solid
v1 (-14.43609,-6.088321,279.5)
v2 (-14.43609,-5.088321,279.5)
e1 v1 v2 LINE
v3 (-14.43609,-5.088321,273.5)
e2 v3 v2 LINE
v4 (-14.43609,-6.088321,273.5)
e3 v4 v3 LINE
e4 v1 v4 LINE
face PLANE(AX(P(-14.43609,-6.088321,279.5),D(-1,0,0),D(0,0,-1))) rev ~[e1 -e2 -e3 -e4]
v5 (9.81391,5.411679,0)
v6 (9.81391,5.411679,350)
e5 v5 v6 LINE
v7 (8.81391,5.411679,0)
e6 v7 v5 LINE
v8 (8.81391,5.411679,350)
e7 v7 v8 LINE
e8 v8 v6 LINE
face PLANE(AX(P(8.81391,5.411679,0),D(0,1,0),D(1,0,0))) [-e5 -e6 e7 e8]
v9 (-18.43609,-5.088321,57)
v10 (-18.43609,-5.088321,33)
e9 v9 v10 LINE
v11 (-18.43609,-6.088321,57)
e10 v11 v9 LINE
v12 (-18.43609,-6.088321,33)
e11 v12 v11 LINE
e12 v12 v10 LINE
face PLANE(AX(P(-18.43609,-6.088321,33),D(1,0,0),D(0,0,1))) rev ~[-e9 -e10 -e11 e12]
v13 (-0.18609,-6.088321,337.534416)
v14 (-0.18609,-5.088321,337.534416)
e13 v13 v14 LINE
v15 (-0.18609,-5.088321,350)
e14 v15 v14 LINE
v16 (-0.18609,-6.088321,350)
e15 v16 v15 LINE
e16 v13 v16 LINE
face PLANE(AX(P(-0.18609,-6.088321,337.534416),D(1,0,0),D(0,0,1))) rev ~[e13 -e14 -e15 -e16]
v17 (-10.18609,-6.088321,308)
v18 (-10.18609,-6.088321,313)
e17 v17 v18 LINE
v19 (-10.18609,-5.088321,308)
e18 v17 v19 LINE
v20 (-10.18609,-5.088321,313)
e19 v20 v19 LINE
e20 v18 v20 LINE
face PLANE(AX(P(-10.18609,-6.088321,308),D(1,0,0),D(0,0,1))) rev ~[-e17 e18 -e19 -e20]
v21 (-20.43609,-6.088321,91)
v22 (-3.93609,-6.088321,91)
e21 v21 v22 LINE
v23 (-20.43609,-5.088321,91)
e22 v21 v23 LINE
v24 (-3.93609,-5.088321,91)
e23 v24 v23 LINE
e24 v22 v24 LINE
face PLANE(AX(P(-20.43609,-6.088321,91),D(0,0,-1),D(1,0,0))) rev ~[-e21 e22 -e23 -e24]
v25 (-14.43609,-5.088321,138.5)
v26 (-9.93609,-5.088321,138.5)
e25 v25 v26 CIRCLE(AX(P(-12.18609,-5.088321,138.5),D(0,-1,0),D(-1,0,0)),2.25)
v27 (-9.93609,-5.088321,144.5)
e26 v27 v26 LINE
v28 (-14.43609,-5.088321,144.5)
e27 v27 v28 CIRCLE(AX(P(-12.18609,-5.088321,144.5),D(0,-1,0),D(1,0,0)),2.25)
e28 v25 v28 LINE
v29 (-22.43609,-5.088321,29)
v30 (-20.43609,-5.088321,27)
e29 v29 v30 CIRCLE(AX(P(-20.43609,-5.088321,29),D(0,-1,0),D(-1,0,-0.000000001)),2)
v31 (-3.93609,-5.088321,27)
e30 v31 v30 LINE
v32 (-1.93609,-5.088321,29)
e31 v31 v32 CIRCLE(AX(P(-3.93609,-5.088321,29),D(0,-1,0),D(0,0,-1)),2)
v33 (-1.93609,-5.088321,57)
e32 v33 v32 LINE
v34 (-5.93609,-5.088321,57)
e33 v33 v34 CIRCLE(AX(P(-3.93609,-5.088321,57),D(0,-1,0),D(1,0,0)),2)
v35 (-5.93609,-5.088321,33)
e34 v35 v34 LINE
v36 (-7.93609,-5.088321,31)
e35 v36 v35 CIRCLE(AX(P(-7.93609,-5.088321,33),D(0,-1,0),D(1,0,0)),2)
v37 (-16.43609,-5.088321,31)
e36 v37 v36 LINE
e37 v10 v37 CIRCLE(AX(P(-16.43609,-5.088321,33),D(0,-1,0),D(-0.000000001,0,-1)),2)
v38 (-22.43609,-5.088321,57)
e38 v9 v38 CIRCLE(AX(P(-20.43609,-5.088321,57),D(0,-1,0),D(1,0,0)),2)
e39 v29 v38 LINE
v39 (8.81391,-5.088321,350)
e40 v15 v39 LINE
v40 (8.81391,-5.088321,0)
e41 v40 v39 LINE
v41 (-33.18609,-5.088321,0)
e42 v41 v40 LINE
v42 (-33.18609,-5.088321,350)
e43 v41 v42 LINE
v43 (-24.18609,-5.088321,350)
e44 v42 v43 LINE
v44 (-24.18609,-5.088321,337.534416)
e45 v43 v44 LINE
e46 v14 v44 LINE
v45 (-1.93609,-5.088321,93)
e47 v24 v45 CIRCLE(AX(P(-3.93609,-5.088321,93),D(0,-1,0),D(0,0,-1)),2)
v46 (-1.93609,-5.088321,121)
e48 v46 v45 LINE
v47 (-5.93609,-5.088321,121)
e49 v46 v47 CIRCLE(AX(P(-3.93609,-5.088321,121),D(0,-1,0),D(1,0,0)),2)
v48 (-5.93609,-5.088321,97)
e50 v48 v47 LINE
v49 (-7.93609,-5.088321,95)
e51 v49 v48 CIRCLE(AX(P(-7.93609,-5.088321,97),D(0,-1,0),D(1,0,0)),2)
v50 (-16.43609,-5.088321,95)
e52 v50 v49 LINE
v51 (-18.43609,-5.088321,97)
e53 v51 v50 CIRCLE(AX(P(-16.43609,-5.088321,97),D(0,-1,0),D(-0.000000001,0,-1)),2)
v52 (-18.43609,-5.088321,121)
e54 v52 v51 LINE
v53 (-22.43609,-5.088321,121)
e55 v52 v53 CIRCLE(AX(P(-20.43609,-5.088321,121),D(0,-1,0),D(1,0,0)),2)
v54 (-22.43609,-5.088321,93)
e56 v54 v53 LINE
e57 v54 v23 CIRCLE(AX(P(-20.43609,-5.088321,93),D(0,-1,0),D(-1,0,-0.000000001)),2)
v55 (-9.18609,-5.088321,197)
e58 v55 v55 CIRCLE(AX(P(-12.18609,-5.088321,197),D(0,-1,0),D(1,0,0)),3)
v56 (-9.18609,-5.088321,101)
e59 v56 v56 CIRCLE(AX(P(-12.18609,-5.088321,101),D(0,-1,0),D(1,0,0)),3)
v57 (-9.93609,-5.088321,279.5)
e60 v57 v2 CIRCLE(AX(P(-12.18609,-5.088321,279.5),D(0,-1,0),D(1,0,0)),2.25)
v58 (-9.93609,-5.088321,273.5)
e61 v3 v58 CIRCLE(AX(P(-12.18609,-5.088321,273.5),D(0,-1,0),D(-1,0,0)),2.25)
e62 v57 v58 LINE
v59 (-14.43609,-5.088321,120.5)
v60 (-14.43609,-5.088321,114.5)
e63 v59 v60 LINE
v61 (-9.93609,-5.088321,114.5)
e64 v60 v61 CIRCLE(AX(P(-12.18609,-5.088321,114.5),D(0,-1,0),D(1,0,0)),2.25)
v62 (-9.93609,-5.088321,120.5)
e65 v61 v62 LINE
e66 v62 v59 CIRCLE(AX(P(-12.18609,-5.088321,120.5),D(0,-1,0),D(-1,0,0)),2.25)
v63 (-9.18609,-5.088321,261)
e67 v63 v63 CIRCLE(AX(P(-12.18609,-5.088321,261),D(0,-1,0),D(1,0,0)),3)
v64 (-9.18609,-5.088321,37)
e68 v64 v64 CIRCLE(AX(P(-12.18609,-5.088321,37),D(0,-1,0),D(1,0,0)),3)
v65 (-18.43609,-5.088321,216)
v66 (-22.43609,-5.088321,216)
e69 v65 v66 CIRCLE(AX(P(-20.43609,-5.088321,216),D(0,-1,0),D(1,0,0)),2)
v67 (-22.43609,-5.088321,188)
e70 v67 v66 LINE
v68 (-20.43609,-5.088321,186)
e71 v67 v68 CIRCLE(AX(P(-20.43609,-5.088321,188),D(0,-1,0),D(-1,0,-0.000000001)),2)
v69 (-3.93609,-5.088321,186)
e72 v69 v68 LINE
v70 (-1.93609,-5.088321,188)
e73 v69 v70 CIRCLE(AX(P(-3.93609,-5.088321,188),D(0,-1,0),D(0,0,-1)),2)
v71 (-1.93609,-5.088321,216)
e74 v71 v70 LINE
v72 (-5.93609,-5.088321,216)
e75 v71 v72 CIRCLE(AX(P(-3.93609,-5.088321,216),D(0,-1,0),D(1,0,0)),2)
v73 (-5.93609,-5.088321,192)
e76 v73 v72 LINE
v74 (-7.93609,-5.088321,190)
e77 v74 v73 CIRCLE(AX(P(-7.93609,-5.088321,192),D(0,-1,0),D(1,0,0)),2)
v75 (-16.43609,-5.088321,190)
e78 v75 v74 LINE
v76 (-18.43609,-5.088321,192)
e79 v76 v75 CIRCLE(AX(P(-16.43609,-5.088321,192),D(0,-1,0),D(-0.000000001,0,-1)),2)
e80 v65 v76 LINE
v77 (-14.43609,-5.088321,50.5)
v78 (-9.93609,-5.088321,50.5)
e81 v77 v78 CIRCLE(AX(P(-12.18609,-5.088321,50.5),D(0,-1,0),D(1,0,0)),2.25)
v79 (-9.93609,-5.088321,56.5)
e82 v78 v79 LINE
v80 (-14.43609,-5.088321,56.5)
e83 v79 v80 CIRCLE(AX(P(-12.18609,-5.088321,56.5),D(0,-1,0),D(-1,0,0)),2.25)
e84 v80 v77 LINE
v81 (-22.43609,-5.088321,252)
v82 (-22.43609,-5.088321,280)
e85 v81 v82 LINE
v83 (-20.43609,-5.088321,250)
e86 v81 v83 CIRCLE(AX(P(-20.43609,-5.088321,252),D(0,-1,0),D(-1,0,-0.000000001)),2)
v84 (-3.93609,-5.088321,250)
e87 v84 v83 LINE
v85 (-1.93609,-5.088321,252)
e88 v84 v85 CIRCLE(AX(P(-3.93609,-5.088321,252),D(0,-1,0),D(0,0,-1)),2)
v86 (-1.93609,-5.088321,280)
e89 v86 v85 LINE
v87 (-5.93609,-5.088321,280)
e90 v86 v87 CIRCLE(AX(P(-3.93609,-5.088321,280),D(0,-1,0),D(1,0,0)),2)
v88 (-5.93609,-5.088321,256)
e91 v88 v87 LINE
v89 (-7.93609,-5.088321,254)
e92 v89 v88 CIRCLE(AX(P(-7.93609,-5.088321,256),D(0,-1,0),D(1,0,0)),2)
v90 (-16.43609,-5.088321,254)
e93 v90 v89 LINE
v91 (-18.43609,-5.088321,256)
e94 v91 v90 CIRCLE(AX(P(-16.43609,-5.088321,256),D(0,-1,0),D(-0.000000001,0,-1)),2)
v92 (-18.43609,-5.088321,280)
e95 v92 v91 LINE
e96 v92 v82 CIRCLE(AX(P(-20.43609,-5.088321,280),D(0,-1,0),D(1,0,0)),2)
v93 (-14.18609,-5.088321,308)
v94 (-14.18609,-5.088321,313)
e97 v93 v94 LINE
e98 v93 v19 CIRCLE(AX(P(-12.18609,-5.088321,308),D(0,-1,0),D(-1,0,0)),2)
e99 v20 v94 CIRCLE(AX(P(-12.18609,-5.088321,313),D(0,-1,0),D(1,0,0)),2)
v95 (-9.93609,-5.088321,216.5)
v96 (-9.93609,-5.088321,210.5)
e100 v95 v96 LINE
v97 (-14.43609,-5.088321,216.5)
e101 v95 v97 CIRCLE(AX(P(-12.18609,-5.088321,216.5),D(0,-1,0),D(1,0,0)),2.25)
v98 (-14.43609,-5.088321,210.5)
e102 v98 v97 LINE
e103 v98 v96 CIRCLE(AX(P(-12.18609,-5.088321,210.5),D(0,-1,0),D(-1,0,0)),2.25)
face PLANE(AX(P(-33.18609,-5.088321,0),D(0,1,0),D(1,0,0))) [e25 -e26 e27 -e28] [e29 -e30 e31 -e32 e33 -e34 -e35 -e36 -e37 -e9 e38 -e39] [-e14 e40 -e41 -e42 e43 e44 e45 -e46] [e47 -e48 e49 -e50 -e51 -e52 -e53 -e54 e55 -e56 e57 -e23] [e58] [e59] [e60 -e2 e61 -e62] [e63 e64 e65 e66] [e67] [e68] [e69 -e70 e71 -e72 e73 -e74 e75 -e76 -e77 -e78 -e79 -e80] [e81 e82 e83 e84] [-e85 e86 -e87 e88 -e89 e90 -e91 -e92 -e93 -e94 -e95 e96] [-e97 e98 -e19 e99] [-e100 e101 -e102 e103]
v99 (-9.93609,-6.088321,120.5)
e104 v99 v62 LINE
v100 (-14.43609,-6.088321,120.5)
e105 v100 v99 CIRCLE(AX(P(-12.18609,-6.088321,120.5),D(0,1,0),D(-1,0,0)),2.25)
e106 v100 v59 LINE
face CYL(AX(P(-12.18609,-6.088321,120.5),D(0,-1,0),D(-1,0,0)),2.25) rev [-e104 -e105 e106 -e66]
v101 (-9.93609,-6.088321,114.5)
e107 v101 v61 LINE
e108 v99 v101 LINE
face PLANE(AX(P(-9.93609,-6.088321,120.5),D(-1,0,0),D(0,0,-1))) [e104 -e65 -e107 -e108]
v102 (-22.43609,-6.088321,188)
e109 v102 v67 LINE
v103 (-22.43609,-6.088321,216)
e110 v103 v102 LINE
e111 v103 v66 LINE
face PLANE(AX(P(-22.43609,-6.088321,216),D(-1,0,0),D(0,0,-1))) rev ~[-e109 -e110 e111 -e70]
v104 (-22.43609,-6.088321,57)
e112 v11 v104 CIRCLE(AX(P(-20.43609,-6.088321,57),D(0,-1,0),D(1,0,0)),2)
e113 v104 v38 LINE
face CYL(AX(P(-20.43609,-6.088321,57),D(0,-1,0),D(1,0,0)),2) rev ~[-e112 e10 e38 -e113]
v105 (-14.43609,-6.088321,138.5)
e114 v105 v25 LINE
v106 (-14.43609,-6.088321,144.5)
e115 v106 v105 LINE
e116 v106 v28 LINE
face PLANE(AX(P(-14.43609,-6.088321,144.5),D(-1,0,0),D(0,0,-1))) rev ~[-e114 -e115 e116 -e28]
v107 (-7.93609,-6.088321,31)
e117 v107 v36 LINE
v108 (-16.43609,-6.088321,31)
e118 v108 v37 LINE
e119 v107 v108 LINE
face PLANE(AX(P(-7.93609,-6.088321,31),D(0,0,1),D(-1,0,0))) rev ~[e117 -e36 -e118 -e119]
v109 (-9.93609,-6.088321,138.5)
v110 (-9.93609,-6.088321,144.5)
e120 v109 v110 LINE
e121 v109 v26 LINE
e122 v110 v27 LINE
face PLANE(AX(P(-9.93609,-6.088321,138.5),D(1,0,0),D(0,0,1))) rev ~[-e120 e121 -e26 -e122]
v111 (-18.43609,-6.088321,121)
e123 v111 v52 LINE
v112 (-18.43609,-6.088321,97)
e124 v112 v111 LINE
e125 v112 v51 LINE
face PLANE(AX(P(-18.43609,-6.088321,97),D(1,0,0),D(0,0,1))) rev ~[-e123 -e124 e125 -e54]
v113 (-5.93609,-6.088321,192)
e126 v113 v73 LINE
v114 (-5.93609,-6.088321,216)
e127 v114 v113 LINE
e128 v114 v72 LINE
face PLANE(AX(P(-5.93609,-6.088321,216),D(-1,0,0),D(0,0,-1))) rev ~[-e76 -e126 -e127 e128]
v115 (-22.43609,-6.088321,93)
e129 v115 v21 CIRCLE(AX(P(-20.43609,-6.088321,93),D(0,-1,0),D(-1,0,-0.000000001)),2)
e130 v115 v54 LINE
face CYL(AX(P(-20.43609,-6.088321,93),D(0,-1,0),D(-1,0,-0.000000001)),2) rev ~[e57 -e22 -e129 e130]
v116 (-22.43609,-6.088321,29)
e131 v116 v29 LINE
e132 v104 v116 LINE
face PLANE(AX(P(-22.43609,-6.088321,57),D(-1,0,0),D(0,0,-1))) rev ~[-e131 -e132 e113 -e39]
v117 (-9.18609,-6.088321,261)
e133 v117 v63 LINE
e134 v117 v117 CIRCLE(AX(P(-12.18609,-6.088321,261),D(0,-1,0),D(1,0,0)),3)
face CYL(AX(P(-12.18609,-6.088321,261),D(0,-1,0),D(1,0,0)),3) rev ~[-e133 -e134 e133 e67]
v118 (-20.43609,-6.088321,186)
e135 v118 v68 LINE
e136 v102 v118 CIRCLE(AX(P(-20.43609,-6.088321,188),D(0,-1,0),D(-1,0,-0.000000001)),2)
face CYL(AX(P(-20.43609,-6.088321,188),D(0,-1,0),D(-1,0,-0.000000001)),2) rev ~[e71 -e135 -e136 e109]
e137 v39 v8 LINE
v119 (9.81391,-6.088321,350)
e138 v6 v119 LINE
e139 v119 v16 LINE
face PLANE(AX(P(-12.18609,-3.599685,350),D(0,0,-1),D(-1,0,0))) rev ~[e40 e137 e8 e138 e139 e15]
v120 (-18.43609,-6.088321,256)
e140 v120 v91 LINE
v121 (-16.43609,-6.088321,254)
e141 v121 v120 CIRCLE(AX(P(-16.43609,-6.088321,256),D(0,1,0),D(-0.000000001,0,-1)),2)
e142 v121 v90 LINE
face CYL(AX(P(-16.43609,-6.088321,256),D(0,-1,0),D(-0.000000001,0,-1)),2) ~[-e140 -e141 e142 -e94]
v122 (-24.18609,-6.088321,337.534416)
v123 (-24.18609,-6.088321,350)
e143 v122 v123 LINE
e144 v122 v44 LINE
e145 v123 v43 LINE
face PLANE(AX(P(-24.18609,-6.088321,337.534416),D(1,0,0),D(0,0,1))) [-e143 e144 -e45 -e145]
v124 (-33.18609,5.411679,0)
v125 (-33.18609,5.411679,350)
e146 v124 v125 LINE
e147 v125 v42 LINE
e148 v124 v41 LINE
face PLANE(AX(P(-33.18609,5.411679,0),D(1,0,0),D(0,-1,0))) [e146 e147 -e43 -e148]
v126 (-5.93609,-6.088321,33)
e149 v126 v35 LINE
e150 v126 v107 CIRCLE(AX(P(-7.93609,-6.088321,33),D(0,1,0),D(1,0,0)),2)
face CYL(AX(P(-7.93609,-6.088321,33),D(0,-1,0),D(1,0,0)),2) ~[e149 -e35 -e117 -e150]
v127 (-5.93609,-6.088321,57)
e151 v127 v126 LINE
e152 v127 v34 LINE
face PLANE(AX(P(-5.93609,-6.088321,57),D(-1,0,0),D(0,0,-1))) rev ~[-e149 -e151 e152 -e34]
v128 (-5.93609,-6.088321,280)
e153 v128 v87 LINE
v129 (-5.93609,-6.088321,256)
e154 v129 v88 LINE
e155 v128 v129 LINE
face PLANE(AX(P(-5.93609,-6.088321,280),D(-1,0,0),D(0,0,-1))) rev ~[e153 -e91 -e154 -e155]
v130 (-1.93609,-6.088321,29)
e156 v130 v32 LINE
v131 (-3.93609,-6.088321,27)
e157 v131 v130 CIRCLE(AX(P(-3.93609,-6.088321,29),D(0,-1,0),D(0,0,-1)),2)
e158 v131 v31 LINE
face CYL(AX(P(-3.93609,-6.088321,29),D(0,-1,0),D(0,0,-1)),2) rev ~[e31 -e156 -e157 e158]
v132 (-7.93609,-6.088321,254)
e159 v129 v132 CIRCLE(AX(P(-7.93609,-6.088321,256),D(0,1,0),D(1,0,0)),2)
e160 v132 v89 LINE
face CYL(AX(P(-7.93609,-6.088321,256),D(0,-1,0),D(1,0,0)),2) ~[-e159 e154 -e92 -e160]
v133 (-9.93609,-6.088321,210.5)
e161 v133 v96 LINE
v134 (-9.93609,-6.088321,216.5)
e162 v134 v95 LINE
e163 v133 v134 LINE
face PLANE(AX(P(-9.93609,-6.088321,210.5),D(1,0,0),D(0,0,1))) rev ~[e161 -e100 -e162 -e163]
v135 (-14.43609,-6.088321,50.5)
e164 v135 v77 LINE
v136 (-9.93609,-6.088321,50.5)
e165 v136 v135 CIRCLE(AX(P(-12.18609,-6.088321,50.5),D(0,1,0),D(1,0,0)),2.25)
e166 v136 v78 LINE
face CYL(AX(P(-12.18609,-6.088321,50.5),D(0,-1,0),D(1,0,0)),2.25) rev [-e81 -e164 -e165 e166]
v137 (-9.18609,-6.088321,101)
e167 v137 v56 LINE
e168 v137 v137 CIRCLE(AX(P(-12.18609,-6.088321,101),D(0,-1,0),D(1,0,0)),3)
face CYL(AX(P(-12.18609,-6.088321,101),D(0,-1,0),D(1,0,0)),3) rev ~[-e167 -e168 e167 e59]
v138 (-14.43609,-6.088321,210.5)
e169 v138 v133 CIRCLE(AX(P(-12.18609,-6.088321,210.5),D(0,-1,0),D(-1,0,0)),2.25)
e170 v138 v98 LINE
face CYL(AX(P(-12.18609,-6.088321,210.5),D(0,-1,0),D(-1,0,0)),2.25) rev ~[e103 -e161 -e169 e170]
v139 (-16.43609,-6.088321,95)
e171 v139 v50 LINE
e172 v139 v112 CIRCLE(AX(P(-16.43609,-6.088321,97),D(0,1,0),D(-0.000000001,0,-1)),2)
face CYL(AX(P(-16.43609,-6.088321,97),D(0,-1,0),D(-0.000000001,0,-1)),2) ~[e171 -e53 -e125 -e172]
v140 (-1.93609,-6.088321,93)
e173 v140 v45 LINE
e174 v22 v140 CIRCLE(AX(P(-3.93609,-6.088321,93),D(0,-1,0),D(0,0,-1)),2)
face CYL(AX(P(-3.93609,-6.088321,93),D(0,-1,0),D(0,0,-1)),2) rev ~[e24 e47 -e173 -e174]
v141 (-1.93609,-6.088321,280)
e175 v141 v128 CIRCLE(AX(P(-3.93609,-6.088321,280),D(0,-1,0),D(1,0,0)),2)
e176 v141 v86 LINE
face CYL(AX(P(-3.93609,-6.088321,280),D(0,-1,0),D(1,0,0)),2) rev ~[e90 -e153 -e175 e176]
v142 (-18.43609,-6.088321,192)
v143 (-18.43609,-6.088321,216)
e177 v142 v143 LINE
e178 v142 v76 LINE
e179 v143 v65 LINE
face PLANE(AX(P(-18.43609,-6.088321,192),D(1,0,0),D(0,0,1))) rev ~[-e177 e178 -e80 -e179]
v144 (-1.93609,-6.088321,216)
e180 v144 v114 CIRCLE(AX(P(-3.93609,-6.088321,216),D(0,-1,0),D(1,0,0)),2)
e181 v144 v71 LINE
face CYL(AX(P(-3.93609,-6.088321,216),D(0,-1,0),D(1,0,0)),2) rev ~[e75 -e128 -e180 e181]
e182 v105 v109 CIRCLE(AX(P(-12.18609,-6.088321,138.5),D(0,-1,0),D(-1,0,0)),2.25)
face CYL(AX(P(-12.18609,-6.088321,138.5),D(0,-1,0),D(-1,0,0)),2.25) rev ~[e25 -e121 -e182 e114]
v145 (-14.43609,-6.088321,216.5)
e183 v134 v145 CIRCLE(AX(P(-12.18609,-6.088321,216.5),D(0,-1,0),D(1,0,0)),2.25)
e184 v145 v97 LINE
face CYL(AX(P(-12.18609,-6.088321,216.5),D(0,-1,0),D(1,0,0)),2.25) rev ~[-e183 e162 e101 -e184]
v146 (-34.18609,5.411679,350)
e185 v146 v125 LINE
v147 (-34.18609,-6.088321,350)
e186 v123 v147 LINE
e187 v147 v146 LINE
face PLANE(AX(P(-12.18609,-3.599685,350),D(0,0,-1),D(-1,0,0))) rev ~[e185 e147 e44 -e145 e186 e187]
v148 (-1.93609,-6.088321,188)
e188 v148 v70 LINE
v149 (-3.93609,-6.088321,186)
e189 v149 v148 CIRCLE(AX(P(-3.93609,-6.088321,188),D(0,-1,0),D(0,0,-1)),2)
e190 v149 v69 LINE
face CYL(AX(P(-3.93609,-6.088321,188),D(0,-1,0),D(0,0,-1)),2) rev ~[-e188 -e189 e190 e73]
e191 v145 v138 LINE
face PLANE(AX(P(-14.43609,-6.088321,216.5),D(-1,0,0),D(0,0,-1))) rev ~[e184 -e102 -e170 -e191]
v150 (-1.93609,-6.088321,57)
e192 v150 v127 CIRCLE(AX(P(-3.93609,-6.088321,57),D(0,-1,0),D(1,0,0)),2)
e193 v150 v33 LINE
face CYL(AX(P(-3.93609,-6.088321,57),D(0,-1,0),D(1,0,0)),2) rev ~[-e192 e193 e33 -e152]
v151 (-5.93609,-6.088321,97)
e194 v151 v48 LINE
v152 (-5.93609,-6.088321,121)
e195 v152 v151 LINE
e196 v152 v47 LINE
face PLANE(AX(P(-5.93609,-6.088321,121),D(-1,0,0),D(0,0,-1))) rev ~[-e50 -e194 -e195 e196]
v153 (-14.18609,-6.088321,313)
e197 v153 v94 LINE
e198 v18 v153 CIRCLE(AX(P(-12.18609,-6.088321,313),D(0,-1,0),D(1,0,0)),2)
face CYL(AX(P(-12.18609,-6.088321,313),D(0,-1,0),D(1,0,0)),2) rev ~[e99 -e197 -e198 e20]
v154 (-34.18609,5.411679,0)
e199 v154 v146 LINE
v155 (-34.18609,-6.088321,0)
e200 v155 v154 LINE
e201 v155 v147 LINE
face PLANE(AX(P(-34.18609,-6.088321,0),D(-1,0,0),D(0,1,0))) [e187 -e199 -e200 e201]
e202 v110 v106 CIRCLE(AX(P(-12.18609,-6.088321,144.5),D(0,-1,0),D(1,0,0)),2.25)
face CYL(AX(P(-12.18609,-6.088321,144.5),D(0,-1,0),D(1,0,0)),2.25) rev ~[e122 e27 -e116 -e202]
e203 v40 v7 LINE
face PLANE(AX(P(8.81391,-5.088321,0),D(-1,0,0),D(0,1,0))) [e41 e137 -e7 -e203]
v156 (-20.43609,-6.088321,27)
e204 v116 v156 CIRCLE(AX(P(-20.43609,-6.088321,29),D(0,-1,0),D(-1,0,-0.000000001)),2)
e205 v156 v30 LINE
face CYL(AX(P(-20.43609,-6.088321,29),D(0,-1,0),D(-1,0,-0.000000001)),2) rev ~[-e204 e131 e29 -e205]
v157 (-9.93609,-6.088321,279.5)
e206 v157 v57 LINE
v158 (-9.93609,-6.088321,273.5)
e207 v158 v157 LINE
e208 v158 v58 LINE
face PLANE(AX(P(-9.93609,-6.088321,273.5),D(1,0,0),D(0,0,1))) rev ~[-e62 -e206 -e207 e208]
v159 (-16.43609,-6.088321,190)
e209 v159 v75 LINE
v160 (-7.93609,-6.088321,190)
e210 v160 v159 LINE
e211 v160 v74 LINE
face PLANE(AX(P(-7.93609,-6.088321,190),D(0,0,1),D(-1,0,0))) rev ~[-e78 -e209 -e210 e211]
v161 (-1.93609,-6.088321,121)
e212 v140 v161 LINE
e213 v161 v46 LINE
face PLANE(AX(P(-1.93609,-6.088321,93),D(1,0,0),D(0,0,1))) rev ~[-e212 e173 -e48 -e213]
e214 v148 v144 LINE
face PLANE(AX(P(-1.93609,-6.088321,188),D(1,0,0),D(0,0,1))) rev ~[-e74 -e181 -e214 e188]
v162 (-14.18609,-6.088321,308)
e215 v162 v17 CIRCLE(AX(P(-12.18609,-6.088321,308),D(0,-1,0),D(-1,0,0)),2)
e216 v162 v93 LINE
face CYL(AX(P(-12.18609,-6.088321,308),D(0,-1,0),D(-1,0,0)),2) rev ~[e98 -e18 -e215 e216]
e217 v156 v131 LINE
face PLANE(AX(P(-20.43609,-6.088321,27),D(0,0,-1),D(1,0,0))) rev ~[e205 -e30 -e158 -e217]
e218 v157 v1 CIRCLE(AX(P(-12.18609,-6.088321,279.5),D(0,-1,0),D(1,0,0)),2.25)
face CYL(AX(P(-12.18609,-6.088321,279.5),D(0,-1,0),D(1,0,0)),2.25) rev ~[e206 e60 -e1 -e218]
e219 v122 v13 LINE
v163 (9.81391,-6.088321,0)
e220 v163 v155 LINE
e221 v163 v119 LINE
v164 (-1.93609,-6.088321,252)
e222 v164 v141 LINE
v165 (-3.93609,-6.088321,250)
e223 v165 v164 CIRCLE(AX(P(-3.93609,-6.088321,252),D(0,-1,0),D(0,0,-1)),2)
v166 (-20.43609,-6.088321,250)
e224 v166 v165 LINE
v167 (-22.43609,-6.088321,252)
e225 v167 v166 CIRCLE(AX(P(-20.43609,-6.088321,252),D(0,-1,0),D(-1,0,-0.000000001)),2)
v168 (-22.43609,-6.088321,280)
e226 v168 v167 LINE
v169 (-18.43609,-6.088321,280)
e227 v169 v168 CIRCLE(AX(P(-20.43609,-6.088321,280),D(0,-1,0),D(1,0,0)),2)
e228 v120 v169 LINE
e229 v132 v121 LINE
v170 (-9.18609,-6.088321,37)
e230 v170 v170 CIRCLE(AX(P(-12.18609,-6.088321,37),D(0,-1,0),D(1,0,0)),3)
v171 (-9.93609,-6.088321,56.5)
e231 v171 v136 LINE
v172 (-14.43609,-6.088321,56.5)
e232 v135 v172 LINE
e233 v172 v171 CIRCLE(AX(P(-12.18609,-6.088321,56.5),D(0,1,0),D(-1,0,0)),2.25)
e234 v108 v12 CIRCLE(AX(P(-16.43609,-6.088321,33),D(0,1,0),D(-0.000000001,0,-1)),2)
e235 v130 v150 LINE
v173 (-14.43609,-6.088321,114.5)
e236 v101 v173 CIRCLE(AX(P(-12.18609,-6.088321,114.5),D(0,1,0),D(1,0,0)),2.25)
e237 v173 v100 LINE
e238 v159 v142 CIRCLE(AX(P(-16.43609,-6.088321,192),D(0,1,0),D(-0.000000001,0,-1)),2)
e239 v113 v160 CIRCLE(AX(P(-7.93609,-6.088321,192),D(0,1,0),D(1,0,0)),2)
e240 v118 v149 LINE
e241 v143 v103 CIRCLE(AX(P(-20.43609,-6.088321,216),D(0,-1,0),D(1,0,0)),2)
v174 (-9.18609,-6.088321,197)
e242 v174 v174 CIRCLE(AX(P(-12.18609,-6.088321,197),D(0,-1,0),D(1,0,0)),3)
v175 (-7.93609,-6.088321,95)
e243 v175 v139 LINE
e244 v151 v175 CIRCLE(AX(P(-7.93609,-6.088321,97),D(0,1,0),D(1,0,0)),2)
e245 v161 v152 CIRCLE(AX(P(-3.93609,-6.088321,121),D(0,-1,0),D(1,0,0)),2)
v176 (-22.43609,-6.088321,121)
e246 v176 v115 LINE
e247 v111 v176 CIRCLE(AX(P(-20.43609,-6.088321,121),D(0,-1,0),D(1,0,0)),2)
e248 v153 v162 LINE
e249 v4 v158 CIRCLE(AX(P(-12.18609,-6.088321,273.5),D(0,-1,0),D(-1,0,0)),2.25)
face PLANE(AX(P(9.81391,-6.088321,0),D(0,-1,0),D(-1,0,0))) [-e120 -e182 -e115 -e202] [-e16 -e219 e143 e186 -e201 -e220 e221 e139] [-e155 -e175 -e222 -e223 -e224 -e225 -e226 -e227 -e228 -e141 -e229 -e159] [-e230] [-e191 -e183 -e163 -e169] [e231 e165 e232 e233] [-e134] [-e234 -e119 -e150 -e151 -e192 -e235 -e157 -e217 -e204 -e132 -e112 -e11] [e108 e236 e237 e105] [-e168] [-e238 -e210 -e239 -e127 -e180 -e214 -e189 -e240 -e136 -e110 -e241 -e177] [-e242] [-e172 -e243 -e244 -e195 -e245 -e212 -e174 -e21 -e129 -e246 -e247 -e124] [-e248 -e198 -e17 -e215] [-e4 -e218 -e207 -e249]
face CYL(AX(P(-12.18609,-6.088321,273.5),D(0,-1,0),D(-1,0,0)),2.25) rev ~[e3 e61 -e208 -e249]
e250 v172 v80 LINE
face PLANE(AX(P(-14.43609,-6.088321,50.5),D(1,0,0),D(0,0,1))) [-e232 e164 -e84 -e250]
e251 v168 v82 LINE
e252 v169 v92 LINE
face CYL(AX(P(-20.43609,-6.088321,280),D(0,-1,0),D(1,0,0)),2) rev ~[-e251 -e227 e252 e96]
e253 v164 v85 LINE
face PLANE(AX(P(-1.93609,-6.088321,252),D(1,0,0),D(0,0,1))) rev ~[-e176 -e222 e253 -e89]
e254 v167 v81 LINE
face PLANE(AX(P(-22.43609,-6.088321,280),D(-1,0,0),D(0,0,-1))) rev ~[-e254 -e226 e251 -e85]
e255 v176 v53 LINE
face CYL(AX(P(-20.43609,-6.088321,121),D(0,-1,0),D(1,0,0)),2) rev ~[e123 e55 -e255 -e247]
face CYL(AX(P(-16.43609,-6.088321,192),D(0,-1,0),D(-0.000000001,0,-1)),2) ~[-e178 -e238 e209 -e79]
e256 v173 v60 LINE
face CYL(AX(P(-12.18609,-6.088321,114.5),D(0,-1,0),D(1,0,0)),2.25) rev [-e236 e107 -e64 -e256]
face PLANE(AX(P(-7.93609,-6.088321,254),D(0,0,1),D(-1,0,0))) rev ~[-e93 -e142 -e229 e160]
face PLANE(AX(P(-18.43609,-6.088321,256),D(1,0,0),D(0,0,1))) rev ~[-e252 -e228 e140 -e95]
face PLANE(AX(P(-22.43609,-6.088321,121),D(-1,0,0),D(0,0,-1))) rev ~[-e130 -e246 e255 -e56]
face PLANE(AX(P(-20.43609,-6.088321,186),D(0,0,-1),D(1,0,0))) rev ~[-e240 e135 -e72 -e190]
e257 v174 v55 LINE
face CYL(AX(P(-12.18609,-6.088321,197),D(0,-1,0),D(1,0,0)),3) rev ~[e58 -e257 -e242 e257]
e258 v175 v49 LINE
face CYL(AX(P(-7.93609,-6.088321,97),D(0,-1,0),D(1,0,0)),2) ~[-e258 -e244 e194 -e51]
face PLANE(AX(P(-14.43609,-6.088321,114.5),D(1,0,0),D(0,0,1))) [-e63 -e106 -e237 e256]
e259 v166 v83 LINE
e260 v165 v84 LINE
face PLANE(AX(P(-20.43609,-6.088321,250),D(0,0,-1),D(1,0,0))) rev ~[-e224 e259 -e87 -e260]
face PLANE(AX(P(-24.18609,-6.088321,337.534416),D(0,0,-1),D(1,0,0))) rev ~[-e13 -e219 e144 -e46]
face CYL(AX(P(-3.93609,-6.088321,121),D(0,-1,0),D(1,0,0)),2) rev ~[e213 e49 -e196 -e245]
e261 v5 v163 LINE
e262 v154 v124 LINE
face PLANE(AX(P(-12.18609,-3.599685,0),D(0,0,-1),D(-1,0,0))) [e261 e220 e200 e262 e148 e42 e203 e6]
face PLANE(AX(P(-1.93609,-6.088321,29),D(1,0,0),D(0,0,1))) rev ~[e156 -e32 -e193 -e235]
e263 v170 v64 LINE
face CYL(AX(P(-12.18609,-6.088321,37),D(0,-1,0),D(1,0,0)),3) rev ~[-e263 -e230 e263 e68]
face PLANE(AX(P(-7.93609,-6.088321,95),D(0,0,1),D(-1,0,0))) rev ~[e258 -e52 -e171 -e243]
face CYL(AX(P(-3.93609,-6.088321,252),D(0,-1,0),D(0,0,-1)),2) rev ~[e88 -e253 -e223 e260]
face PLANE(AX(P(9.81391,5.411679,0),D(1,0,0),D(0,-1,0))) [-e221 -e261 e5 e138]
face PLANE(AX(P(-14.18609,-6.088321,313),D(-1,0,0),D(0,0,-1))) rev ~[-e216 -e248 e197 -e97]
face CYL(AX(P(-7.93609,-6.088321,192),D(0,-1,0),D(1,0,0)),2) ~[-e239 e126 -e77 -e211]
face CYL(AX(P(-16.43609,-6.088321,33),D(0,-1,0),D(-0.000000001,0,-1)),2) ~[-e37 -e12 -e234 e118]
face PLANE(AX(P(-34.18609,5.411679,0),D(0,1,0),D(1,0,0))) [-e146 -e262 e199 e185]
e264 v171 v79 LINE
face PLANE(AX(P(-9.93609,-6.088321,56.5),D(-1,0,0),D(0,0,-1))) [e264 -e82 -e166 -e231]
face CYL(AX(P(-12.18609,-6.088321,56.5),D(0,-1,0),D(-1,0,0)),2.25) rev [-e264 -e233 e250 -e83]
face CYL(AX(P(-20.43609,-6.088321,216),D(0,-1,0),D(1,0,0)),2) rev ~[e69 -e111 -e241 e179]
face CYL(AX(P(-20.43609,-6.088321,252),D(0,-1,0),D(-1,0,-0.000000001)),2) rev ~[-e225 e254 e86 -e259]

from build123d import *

# Parameters (mm, degrees)
EXTRUDE_1_DEPTH     = 350
SKETCH_2_R          = 3
SKETCH_2_W          = 24
SKETCH_2_H          = 12.465583579
CUT_EXTRUDE_1_DEPTH = 350


with BuildPart() as part:
    # 草图1 → 凸台-拉伸1 (new body)
    with BuildSketch(Plane.XY):
        Polygon((-34.186090226, 5.411678692), (-33.186090226, 5.411678692), (-33.186090226, -5.088321308), (8.813909774, -5.088321308), (8.813909774, 5.411678692), (9.813909774, 5.411678692), (9.813909774, -6.088321308), (-34.186090226, -6.088321308), align=None)
    extrude(amount=EXTRUDE_1_DEPTH)

    # 草图2 → 切除-拉伸1 (cut)
    with BuildSketch(Plane.XZ.offset(6.088321308)):
        with Locations((-12.186090226, 261)):
            Circle(SKETCH_2_R)
        with Locations((-12.186090226, 197)):
            Circle(SKETCH_2_R)
        with Locations((-12.186090226, 101)):
            Circle(SKETCH_2_R)
        with Locations((-12.186090226, 37)):
            Circle(SKETCH_2_R)
        with BuildLine():
            Line((-22.436090226, 280), (-22.436090226, 252))
            ThreePointArc((-22.436090226, 252), (-21.850303788, 250.585786438), (-20.436090226, 250))
            Line((-20.436090226, 250), (-3.936090226, 250))
            ThreePointArc((-3.936090226, 250), (-2.521876663, 250.585786438), (-1.936090226, 252))
            Line((-1.936090226, 252), (-1.936090226, 280))
            ThreePointArc((-1.936090226, 280), (-3.936090226, 282), (-5.936090226, 280))
            Line((-5.936090226, 280), (-5.936090226, 256))
            ThreePointArc((-5.936090226, 256), (-6.521876663, 254.585786438), (-7.936090226, 254))
            Line((-7.936090226, 254), (-16.436090226, 254))
            ThreePointArc((-16.436090226, 254), (-17.850303788, 254.585786438), (-18.436090226, 256))
            Line((-18.436090226, 256), (-18.436090226, 280))
            ThreePointArc((-18.436090226, 280), (-20.436090226, 282), (-22.436090226, 280))
        make_face()
        with BuildLine():
            Line((-14.436090226, 279.5), (-14.436090226, 273.5))
            ThreePointArc((-14.436090226, 273.5), (-12.186090226, 271.25), (-9.936090226, 273.5))
            Line((-9.936090226, 273.5), (-9.936090226, 279.5))
            ThreePointArc((-9.936090226, 279.5), (-12.186090226, 281.75), (-14.436090226, 279.5))
        make_face()
        with BuildLine():
            Line((-5.936090226, 216), (-5.936090226, 192))
            ThreePointArc((-5.936090226, 192), (-6.521876663, 190.585786438), (-7.936090226, 190))
            Line((-7.936090226, 190), (-16.436090226, 190))
            ThreePointArc((-16.436090226, 190), (-17.850303788, 190.585786438), (-18.436090226, 192))
            Line((-18.436090226, 192), (-18.436090226, 216))
            ThreePointArc((-18.436090226, 216), (-20.436090226, 218), (-22.436090226, 216))
            Line((-22.436090226, 216), (-22.436090226, 188))
            ThreePointArc((-22.436090226, 188), (-21.850303788, 186.585786438), (-20.436090226, 186))
            Line((-20.436090226, 186), (-3.936090226, 186))
            ThreePointArc((-3.936090226, 186), (-2.521876663, 186.585786438), (-1.936090226, 188))
            Line((-1.936090226, 188), (-1.936090226, 216))
            ThreePointArc((-1.936090226, 216), (-3.936090226, 218), (-5.936090226, 216))
        make_face()
        with BuildLine():
            Line((-14.436090226, 216.5), (-14.436090226, 210.5))
            ThreePointArc((-14.436090226, 210.5), (-12.186090226, 208.25), (-9.936090226, 210.5))
            Line((-9.936090226, 210.5), (-9.936090226, 216.5))
            ThreePointArc((-9.936090226, 216.5), (-12.186090226, 218.75), (-14.436090226, 216.5))
        make_face()
        with BuildLine():
            Line((-20.436090226, 91), (-3.936090226, 91))
            ThreePointArc((-3.936090226, 91), (-2.521876663, 91.585786438), (-1.936090226, 93))
            Line((-1.936090226, 93), (-1.936090226, 121))
            ThreePointArc((-1.936090226, 121), (-3.936090226, 123), (-5.936090226, 121))
            Line((-5.936090226, 121), (-5.936090226, 97))
            ThreePointArc((-5.936090226, 97), (-6.521876663, 95.585786438), (-7.936090226, 95))
            Line((-7.936090226, 95), (-16.436090226, 95))
            ThreePointArc((-16.436090226, 95), (-17.850303788, 95.585786438), (-18.436090226, 97))
            Line((-18.436090226, 97), (-18.436090226, 121))
            ThreePointArc((-18.436090226, 121), (-20.436090226, 123), (-22.436090226, 121))
            Line((-22.436090226, 121), (-22.436090226, 93))
            ThreePointArc((-22.436090226, 93), (-21.850303788, 91.585786438), (-20.436090226, 91))
        make_face()
        with BuildLine():
            Line((-9.936090226, 120.5), (-9.936090226, 114.5))
            ThreePointArc((-9.936090226, 114.5), (-12.186090226, 112.25), (-14.436090226, 114.5))
            Line((-14.436090226, 114.5), (-14.436090226, 120.5))
            ThreePointArc((-14.436090226, 120.5), (-12.186090226, 122.75), (-9.936090226, 120.5))
        make_face()
        with BuildLine():
            Line((-20.436090226, 27), (-3.936090226, 27))
            ThreePointArc((-3.936090226, 27), (-2.521876663, 27.585786438), (-1.936090226, 29))
            Line((-1.936090226, 29), (-1.936090226, 57))
            ThreePointArc((-1.936090226, 57), (-3.936090226, 59), (-5.936090226, 57))
            Line((-5.936090226, 57), (-5.936090226, 33))
            ThreePointArc((-5.936090226, 33), (-6.521876663, 31.585786438), (-7.936090226, 31))
            Line((-7.936090226, 31), (-16.436090226, 31))
            ThreePointArc((-16.436090226, 31), (-17.850303788, 31.585786438), (-18.436090226, 33))
            Line((-18.436090226, 33), (-18.436090226, 57))
            ThreePointArc((-18.436090226, 57), (-20.436090226, 59), (-22.436090226, 57))
            Line((-22.436090226, 57), (-22.436090226, 29))
            ThreePointArc((-22.436090226, 29), (-21.850303788, 27.585786438), (-20.436090226, 27))
        make_face()
        with BuildLine():
            Line((-9.936090226, 56.5), (-9.936090226, 50.5))
            ThreePointArc((-9.936090226, 50.5), (-12.186090226, 48.25), (-14.436090226, 50.5))
            Line((-14.436090226, 50.5), (-14.436090226, 56.5))
            ThreePointArc((-14.436090226, 56.5), (-12.186090226, 58.75), (-9.936090226, 56.5))
        make_face()
        with BuildLine():
            Line((-14.186090226, 313), (-14.186090226, 308))
            ThreePointArc((-14.186090226, 308), (-12.186090226, 306), (-10.186090226, 308))
            Line((-10.186090226, 308), (-10.186090226, 313))
            ThreePointArc((-10.186090226, 313), (-12.186090226, 315), (-14.186090226, 313))
        make_face()
        with BuildLine():
            Line((-14.436090226, 144.5), (-14.436090226, 138.5))
            ThreePointArc((-14.436090226, 138.5), (-12.186090226, 136.25), (-9.936090226, 138.5))
            Line((-9.936090226, 138.5), (-9.936090226, 144.5))
            ThreePointArc((-9.936090226, 144.5), (-12.186090226, 146.75), (-14.436090226, 144.5))
        make_face()
        with Locations((-12.186090226, 343.767208211)):
            Rectangle(SKETCH_2_W, SKETCH_2_H)
    extrude(amount=-CUT_EXTRUDE_1_DEPTH, mode=Mode.SUBTRACT)


solid = part.part
